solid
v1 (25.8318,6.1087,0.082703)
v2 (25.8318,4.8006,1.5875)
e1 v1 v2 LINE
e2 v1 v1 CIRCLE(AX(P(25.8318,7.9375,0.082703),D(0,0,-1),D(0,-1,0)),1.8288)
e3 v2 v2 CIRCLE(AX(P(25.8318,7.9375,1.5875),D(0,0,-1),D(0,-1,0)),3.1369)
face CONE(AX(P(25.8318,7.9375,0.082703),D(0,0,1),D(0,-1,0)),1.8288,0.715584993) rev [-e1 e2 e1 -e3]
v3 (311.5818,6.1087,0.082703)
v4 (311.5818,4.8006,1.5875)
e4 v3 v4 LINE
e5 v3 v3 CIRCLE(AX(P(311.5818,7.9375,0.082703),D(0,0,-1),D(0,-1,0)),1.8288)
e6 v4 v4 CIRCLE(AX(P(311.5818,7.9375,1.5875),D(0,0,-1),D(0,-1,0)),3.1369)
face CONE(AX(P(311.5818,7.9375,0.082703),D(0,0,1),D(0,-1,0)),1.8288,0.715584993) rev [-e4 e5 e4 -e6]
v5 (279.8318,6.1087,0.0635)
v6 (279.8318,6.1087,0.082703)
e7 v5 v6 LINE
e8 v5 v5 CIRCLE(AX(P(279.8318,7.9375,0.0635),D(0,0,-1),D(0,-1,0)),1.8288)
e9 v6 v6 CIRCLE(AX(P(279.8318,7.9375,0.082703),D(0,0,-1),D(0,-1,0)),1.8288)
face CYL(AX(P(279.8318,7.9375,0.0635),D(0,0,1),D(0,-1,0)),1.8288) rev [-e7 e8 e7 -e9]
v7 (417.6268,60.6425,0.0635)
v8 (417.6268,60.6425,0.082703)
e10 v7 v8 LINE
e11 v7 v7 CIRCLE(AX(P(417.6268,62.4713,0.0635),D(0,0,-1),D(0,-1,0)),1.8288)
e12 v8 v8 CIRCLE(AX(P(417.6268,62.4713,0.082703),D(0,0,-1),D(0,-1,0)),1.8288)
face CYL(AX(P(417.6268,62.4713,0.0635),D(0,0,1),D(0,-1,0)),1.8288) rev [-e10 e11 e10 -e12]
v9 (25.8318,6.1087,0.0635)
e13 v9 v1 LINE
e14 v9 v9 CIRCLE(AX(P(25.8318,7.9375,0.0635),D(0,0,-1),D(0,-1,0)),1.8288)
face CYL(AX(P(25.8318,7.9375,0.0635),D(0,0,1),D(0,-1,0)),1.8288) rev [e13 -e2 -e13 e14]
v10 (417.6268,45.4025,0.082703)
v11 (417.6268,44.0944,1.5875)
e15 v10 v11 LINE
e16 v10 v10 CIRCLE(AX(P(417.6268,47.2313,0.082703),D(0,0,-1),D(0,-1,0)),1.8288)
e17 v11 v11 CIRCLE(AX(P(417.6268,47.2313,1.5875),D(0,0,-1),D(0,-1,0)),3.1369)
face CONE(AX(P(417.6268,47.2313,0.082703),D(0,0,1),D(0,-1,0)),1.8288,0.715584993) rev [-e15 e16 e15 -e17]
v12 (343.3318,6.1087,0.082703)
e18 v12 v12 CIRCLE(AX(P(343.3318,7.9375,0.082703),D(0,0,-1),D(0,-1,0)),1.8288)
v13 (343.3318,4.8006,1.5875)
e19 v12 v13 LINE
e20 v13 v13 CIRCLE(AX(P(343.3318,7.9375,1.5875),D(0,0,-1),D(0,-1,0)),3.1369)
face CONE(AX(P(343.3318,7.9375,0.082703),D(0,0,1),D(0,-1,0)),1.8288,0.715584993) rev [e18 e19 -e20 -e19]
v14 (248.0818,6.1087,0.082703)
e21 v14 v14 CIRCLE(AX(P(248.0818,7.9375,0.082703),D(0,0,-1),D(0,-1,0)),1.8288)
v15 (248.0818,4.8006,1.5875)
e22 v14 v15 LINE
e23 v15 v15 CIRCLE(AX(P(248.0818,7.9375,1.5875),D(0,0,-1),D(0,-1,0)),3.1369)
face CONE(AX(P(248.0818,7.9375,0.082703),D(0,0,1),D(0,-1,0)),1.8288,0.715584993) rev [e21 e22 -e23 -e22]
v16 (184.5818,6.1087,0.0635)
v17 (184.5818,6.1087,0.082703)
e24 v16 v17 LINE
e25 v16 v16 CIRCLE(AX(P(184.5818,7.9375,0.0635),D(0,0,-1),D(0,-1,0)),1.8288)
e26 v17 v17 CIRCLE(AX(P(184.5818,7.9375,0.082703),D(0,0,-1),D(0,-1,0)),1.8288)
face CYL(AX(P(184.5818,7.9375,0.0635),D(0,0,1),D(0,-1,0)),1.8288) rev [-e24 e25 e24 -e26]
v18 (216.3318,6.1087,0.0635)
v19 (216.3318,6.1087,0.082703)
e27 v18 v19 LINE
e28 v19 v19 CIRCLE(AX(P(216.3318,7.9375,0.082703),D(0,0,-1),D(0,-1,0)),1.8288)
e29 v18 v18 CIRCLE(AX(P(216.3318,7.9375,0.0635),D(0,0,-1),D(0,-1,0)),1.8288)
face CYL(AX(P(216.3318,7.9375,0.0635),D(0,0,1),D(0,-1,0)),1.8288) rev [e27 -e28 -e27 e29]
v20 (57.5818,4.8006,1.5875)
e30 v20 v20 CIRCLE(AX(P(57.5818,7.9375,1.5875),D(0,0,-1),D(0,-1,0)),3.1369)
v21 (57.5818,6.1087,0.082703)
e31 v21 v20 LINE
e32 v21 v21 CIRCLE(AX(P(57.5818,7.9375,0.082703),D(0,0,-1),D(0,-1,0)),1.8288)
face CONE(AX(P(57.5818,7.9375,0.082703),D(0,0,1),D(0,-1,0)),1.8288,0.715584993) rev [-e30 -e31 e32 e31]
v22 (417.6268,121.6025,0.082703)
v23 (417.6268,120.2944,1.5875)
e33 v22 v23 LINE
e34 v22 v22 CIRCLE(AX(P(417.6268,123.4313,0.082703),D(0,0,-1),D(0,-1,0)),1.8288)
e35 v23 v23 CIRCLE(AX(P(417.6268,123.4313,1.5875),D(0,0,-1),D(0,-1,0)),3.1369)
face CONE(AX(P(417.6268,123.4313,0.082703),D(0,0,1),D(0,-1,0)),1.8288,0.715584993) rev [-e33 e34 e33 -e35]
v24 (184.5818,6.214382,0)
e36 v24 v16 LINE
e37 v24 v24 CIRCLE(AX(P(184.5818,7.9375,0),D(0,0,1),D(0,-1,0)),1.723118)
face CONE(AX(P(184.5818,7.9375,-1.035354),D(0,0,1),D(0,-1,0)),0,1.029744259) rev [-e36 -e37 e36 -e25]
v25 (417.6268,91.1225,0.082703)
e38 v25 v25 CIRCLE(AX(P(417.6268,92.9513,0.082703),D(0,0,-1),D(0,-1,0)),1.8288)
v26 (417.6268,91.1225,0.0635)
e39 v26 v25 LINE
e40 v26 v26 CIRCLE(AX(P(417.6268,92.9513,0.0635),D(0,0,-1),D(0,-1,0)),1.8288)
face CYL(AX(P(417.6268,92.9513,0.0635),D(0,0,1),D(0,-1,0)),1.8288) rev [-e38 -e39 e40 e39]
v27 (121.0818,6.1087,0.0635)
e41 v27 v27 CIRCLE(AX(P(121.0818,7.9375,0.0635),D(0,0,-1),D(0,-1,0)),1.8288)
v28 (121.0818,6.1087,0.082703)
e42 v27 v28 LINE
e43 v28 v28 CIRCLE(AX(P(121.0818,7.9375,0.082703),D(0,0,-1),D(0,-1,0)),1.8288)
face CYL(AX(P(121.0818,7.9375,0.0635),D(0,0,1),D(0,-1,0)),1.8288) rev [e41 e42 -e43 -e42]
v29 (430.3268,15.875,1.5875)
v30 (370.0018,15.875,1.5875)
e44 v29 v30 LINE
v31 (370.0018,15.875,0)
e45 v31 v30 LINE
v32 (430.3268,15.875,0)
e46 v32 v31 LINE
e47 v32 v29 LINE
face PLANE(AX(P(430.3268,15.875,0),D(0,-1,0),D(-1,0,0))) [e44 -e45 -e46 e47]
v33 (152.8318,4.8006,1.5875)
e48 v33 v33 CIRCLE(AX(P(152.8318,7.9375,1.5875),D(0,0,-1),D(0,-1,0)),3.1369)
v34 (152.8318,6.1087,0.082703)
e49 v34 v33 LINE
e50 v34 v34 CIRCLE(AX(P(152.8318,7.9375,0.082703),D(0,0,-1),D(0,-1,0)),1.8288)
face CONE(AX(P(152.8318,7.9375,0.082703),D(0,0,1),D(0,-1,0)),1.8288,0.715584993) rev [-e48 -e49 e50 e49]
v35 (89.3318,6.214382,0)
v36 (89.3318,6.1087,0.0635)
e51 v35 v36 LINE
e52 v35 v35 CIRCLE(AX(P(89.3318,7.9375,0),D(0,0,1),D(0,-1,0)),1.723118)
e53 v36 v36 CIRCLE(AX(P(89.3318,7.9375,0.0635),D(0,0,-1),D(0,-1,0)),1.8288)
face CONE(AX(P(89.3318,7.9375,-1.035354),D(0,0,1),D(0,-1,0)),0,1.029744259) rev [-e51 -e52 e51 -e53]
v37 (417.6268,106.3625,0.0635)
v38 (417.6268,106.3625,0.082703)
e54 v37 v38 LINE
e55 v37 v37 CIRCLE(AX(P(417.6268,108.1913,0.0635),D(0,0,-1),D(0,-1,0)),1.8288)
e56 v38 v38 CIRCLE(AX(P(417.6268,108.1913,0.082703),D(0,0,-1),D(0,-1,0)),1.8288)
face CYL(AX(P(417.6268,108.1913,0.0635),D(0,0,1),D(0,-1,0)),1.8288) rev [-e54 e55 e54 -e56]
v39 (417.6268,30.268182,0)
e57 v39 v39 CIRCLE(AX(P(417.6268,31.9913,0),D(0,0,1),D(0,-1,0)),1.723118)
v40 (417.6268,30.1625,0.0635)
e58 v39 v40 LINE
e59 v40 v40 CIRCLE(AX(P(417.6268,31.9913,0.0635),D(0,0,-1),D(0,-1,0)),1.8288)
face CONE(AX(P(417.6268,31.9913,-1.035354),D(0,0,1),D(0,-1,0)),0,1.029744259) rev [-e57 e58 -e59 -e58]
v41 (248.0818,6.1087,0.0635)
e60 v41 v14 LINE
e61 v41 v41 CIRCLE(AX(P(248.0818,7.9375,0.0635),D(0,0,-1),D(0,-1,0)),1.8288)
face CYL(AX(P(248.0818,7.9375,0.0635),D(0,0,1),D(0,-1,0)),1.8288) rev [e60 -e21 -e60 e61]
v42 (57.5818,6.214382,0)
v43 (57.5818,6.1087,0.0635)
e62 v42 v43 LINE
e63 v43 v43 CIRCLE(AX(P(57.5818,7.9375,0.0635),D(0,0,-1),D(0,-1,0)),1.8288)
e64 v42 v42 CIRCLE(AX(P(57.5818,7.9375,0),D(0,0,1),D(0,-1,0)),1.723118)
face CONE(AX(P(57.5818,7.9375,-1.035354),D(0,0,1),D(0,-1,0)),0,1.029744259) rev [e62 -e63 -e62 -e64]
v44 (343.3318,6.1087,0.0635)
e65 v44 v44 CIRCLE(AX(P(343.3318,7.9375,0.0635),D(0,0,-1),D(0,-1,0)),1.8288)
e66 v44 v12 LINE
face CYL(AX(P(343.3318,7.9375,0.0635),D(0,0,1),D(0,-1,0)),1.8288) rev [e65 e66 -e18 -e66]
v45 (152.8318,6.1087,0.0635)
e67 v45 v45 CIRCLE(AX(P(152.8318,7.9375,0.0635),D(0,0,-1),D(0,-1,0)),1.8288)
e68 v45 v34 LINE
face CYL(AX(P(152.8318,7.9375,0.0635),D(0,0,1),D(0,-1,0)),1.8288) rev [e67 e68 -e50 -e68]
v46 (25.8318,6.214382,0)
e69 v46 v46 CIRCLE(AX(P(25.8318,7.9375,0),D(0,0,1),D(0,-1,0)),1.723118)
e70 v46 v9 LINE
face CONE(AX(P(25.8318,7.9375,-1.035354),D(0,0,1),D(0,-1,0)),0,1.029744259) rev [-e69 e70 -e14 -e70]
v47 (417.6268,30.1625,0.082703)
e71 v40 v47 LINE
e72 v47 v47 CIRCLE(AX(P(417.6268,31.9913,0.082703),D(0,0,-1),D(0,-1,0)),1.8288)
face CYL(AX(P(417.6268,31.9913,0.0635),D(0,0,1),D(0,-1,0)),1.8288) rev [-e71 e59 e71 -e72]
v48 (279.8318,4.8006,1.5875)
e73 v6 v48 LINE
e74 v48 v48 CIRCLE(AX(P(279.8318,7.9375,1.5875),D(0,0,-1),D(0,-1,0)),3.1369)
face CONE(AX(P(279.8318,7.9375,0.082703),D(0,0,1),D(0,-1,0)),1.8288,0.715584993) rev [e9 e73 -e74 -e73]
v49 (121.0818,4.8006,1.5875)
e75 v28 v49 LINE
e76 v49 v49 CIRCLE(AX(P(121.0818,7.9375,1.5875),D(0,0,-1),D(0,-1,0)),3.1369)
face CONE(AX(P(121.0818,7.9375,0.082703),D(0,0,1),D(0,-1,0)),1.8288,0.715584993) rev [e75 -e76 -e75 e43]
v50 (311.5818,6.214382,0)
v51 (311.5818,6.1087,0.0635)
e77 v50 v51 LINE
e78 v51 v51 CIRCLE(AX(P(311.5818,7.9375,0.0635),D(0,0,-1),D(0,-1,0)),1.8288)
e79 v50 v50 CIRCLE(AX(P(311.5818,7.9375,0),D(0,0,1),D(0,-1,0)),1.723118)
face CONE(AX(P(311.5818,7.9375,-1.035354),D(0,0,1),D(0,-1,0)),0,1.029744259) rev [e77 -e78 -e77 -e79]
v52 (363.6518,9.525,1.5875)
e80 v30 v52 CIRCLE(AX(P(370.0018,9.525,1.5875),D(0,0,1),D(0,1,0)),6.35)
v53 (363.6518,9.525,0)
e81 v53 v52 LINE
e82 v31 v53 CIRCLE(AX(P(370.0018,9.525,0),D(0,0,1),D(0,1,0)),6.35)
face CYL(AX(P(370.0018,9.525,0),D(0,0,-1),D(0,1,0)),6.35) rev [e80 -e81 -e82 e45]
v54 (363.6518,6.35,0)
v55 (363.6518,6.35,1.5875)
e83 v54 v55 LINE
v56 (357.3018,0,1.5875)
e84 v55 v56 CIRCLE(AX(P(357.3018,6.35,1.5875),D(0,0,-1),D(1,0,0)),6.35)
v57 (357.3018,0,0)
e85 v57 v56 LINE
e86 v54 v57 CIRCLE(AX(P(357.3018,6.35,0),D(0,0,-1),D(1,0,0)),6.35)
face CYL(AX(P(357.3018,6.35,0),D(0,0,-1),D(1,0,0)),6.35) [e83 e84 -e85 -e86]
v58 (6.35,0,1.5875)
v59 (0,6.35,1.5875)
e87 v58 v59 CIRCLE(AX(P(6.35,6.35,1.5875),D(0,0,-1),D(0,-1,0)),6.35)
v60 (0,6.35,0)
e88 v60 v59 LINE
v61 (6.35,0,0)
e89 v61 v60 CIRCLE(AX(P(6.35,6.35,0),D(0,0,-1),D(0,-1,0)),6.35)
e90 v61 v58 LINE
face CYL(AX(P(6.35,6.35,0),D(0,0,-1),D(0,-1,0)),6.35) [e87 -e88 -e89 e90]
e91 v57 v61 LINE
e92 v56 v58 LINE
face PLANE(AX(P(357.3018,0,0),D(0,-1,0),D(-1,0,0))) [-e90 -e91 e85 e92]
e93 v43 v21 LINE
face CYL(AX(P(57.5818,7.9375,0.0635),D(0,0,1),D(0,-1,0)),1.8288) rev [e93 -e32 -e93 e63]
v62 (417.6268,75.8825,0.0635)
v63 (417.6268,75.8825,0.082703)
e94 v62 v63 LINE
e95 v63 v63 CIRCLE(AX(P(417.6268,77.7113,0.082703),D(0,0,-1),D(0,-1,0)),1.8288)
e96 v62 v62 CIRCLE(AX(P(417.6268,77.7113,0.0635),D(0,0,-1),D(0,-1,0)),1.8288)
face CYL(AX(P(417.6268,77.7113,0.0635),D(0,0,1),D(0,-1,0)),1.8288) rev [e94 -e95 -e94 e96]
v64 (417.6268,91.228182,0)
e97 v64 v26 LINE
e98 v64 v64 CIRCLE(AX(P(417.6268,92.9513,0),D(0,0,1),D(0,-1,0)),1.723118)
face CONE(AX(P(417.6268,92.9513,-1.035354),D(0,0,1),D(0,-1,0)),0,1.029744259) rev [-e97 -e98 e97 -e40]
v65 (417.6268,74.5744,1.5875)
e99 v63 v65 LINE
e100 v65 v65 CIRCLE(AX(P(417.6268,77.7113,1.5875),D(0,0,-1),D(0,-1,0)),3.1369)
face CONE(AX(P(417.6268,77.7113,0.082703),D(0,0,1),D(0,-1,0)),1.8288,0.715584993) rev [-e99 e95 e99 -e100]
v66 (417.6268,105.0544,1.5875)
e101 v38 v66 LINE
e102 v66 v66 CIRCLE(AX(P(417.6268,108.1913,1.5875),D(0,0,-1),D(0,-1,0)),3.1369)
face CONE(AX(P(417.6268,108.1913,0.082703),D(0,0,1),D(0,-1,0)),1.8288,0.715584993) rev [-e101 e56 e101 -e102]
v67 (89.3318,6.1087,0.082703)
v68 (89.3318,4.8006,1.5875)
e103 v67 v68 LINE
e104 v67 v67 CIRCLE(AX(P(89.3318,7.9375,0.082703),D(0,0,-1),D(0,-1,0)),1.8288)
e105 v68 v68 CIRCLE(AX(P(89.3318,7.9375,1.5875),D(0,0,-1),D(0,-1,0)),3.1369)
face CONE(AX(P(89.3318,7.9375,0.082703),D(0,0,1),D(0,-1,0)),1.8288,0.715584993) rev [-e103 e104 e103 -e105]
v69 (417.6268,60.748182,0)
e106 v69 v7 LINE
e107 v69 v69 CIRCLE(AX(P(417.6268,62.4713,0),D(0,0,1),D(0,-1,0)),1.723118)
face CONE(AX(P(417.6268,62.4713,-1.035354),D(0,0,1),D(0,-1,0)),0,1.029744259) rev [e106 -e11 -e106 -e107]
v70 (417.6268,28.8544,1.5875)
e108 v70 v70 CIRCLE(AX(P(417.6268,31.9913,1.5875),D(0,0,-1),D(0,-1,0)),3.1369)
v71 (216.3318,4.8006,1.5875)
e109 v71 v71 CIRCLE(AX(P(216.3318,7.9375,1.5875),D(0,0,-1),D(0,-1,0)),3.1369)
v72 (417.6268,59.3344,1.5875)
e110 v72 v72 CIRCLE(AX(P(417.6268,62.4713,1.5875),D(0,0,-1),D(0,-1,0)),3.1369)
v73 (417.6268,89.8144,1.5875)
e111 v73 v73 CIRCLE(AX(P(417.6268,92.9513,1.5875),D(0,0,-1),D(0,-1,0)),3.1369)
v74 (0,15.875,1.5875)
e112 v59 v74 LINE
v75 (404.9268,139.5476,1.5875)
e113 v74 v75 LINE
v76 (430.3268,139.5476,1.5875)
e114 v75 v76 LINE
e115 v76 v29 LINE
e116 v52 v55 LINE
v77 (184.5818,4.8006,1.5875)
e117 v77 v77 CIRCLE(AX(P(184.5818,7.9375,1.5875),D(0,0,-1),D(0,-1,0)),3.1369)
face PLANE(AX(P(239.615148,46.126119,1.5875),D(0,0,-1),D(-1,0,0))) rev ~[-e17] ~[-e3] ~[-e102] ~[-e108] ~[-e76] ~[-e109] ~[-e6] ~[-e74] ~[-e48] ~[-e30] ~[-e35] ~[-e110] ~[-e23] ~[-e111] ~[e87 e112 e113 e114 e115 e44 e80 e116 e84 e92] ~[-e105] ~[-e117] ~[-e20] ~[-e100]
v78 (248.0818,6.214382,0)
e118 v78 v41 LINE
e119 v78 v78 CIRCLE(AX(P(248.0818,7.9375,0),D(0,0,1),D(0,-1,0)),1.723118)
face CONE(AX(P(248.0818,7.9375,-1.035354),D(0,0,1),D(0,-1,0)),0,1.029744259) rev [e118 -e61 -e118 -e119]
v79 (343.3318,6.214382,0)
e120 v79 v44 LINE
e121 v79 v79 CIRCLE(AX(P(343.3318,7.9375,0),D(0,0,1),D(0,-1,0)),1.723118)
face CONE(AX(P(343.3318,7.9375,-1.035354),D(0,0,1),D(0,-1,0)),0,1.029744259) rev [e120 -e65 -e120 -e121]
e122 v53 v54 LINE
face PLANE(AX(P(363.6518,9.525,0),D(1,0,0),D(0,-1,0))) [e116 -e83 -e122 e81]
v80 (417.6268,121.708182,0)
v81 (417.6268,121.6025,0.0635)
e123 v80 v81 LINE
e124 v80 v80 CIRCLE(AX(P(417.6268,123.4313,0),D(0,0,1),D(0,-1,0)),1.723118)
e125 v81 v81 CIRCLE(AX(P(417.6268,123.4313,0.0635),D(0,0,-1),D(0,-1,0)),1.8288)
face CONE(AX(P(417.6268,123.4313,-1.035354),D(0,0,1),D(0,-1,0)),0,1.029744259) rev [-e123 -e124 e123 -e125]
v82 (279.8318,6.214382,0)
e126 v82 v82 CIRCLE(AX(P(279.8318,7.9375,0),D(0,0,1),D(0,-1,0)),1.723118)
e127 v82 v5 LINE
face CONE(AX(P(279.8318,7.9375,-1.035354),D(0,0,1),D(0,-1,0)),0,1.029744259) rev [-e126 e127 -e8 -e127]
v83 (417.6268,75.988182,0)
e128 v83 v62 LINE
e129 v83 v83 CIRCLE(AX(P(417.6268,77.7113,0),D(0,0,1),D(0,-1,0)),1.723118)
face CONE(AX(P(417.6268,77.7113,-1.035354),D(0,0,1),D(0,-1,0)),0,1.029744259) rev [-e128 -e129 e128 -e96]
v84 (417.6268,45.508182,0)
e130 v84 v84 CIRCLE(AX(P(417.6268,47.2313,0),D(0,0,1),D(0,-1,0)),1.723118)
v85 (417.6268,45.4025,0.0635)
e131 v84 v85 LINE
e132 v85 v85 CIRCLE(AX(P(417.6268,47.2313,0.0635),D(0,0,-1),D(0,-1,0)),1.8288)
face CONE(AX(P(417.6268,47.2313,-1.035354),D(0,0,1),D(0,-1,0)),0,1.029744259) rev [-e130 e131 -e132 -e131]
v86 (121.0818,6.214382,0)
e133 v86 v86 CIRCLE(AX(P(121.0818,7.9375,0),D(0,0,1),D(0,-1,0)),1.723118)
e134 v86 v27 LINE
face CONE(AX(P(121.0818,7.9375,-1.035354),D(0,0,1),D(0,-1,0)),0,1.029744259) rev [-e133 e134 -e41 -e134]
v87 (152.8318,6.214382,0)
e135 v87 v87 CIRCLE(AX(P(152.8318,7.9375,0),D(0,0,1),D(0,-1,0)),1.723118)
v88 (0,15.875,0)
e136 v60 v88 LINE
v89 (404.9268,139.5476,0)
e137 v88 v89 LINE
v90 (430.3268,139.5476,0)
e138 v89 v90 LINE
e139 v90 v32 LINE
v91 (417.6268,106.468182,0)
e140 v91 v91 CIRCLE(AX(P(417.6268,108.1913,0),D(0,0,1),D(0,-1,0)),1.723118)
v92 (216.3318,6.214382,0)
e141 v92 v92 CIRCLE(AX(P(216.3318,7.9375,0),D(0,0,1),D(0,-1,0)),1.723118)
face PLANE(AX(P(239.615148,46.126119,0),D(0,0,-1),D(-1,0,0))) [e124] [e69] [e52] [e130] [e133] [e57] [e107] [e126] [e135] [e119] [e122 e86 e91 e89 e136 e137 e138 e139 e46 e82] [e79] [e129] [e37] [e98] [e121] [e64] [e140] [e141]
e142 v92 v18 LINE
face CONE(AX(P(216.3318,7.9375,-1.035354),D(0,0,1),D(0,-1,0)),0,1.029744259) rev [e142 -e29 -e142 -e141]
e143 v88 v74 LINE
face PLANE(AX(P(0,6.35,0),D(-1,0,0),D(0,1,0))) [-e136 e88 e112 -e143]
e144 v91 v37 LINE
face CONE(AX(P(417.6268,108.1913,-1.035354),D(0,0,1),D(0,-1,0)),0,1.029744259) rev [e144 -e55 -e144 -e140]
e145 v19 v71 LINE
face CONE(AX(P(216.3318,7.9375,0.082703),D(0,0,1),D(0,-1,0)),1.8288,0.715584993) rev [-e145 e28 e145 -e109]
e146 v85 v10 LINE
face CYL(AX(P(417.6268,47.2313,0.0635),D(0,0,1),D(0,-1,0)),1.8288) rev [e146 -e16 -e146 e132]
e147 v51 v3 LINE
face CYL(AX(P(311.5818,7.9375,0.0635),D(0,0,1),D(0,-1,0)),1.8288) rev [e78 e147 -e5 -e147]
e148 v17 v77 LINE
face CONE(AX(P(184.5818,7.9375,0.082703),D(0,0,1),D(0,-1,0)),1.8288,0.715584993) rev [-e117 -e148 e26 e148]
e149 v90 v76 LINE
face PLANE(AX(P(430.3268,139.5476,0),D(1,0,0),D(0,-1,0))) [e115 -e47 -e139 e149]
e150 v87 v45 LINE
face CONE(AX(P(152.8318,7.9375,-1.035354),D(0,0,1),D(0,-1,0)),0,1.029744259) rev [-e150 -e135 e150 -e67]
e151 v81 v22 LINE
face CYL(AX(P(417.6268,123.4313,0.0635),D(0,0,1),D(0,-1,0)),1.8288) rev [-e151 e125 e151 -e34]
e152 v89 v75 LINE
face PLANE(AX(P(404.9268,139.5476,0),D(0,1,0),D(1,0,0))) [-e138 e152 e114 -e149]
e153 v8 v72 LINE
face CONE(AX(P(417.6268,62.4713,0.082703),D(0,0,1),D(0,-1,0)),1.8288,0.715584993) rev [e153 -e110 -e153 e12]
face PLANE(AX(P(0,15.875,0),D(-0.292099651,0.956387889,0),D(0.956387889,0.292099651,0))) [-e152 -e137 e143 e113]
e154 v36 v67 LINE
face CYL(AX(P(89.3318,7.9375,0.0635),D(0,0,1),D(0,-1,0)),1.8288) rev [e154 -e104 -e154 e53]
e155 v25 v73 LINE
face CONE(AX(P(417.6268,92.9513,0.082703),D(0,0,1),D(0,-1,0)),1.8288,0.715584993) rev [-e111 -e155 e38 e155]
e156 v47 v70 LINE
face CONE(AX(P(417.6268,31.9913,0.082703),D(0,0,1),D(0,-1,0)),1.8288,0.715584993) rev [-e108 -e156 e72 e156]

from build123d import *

# Parameters (mm, degrees)
BOSS_EXTRUDE1_DEPTH                           = 1.5875
CSK_FOR_6_FLAT_HEAD_SOCKET_CAP_SCREW1_A_COUNT = 2
CSK_FOR_6_FLAT_HEAD_SOCKET_CAP_SCREW1_A_PITCH = 31.75
CSK_FOR_6_FLAT_HEAD_SOCKET_CAP_SCRE_2_COUNT   = 2
CSK_FOR_6_FLAT_HEAD_SOCKET_CAP_SCRE_2_PITCH   = 63.5
CSK_FOR_6_FLAT_HEAD_SOCKET_CAP_SCRE_3_COUNT   = 2
CSK_FOR_6_FLAT_HEAD_SOCKET_CAP_SCRE_3_PITCH   = 95.25
CSK_FOR_6_FLAT_HEAD_SOCKET_CAP_SCRE_4_COUNT   = 2
CSK_FOR_6_FLAT_HEAD_SOCKET_CAP_SCRE_4_PITCH   = 127
CSK_FOR_6_FLAT_HEAD_SOCKET_CAP_SCRE_5_COUNT   = 2
CSK_FOR_6_FLAT_HEAD_SOCKET_CAP_SCRE_5_PITCH   = 158.75
CSK_FOR_6_FLAT_HEAD_SOCKET_CAP_SCRE_6_COUNT   = 2
CSK_FOR_6_FLAT_HEAD_SOCKET_CAP_SCRE_6_PITCH   = 190.5
CSK_FOR_6_FLAT_HEAD_SOCKET_CAP_SCRE_7_COUNT   = 2
CSK_FOR_6_FLAT_HEAD_SOCKET_CAP_SCRE_7_PITCH   = 222.25
CSK_FOR_6_FLAT_HEAD_SOCKET_CAP_SCRE_8_COUNT   = 2
CSK_FOR_6_FLAT_HEAD_SOCKET_CAP_SCRE_8_PITCH   = 254
CSK_FOR_6_FLAT_HEAD_SOCKET_CAP_SCRE_9_COUNT   = 2
CSK_FOR_6_FLAT_HEAD_SOCKET_CAP_SCRE_9_PITCH   = 285.75
CSK_FOR_6_FLAT_HEAD_SOCKET_CAP_SCRE_10_COUNT  = 2
CSK_FOR_6_FLAT_HEAD_SOCKET_CAP_SCRE_10_PITCH  = 317.5
CSK_FOR_6_FLAT_HEAD_SOCKET_CAP_SCREW2_A_COUNT = 2
CSK_FOR_6_FLAT_HEAD_SOCKET_CAP_SCREW2_A_PITCH = 15.24
CSK_FOR_6_FLAT_HEAD_SOCKET_CAP_SCRE_11_COUNT  = 2
CSK_FOR_6_FLAT_HEAD_SOCKET_CAP_SCRE_11_PITCH  = 30.48
CSK_FOR_6_FLAT_HEAD_SOCKET_CAP_SCRE_12_COUNT  = 2
CSK_FOR_6_FLAT_HEAD_SOCKET_CAP_SCRE_12_PITCH  = 45.72
CSK_FOR_6_FLAT_HEAD_SOCKET_CAP_SCRE_13_COUNT  = 2
CSK_FOR_6_FLAT_HEAD_SOCKET_CAP_SCRE_13_PITCH  = 60.96
CSK_FOR_6_FLAT_HEAD_SOCKET_CAP_SCRE_14_COUNT  = 2
CSK_FOR_6_FLAT_HEAD_SOCKET_CAP_SCRE_14_PITCH  = 76.2
CSK_FOR_6_FLAT_HEAD_SOCKET_CAP_SCRE_15_COUNT  = 2
CSK_FOR_6_FLAT_HEAD_SOCKET_CAP_SCRE_15_PITCH  = 91.44


with BuildPart() as part:
    # Sketch1 → Boss-Extrude1 (new body)
    with BuildSketch(Plane.XY):
        with BuildLine():
            Line((0, 15.875), (404.9268, 139.5476))
            Line((404.9268, 139.5476), (430.3268, 139.5476))
            Line((430.3268, 139.5476), (430.3268, 15.875))
            Line((430.3268, 15.875), (370.0018, 15.875))
            ThreePointArc((370.0018, 15.875), (365.511671939, 14.015128061), (363.6518, 9.525))
            Line((363.6518, 9.525), (363.6518, 6.35))
            ThreePointArc((363.6518, 6.35), (361.791928061, 1.859871939), (357.3018, 0))
            Line((357.3018, 0), (6.35, 0))
            ThreePointArc((6.35, 0), (1.859871939, 1.859871939), (0, 6.35))
            Line((0, 6.35), (0, 15.875))
        make_face()
    extrude(amount=BOSS_EXTRUDE1_DEPTH)

    # Sketch3 → CSK for #6 Flat Head Socket Cap Screw1 (revolve, cut)
    with BuildSketch(Plane(origin=(343.3318, 7.9375, 1.5875), x_dir=(0, -1, 0), z_dir=(1, 0, 0))):
        Polygon((0, 0), (0, 2.6228539), (1.8288, 1.524), (1.8288, 1.504796913), (3.1369, 0), align=None)
    csk_for_6_flat_head_socket_cap_screw1 = revolve(axis=Axis((343.3318, 7.9375, 7.9375), (0, 0, -1)), mode=Mode.SUBTRACT)

    # CSK for #6 Flat Head Socket Cap Screw1 a: CSK for #6 Flat Head Socket Cap Screw1 ×2
    with Locations(*[(-i * CSK_FOR_6_FLAT_HEAD_SOCKET_CAP_SCREW1_A_PITCH, 0, 0) for i in range(1, CSK_FOR_6_FLAT_HEAD_SOCKET_CAP_SCREW1_A_COUNT)]):
        add(csk_for_6_flat_head_socket_cap_screw1, mode=Mode.SUBTRACT)

    # CSK for _6 Flat Head Socket Cap Scre 2: CSK for #6 Flat Head Socket Cap Screw1 ×2
    with Locations(*[(-i * CSK_FOR_6_FLAT_HEAD_SOCKET_CAP_SCRE_2_PITCH, 0, 0) for i in range(1, CSK_FOR_6_FLAT_HEAD_SOCKET_CAP_SCRE_2_COUNT)]):
        add(csk_for_6_flat_head_socket_cap_screw1, mode=Mode.SUBTRACT)

    # CSK for _6 Flat Head Socket Cap Scre 3: CSK for #6 Flat Head Socket Cap Screw1 ×2
    with Locations(*[(-i * CSK_FOR_6_FLAT_HEAD_SOCKET_CAP_SCRE_3_PITCH, 0, 0) for i in range(1, CSK_FOR_6_FLAT_HEAD_SOCKET_CAP_SCRE_3_COUNT)]):
        add(csk_for_6_flat_head_socket_cap_screw1, mode=Mode.SUBTRACT)

    # CSK for _6 Flat Head Socket Cap Scre 4: CSK for #6 Flat Head Socket Cap Screw1 ×2
    with Locations(*[(-i * CSK_FOR_6_FLAT_HEAD_SOCKET_CAP_SCRE_4_PITCH, 0, 0) for i in range(1, CSK_FOR_6_FLAT_HEAD_SOCKET_CAP_SCRE_4_COUNT)]):
        add(csk_for_6_flat_head_socket_cap_screw1, mode=Mode.SUBTRACT)

    # CSK for _6 Flat Head Socket Cap Scre 5: CSK for #6 Flat Head Socket Cap Screw1 ×2
    with Locations(*[(-i * CSK_FOR_6_FLAT_HEAD_SOCKET_CAP_SCRE_5_PITCH, 0, 0) for i in range(1, CSK_FOR_6_FLAT_HEAD_SOCKET_CAP_SCRE_5_COUNT)]):
        add(csk_for_6_flat_head_socket_cap_screw1, mode=Mode.SUBTRACT)

    # CSK for _6 Flat Head Socket Cap Scre 6: CSK for #6 Flat Head Socket Cap Screw1 ×2
    with Locations(*[(-i * CSK_FOR_6_FLAT_HEAD_SOCKET_CAP_SCRE_6_PITCH, 0, 0) for i in range(1, CSK_FOR_6_FLAT_HEAD_SOCKET_CAP_SCRE_6_COUNT)]):
        add(csk_for_6_flat_head_socket_cap_screw1, mode=Mode.SUBTRACT)

    # CSK for _6 Flat Head Socket Cap Scre 7: CSK for #6 Flat Head Socket Cap Screw1 ×2
    with Locations(*[(-i * CSK_FOR_6_FLAT_HEAD_SOCKET_CAP_SCRE_7_PITCH, 0, 0) for i in range(1, CSK_FOR_6_FLAT_HEAD_SOCKET_CAP_SCRE_7_COUNT)]):
        add(csk_for_6_flat_head_socket_cap_screw1, mode=Mode.SUBTRACT)

    # CSK for _6 Flat Head Socket Cap Scre 8: CSK for #6 Flat Head Socket Cap Screw1 ×2
    with Locations(*[(-i * CSK_FOR_6_FLAT_HEAD_SOCKET_CAP_SCRE_8_PITCH, 0, 0) for i in range(1, CSK_FOR_6_FLAT_HEAD_SOCKET_CAP_SCRE_8_COUNT)]):
        add(csk_for_6_flat_head_socket_cap_screw1, mode=Mode.SUBTRACT)

    # CSK for _6 Flat Head Socket Cap Scre 9: CSK for #6 Flat Head Socket Cap Screw1 ×2
    with Locations(*[(-i * CSK_FOR_6_FLAT_HEAD_SOCKET_CAP_SCRE_9_PITCH, 0, 0) for i in range(1, CSK_FOR_6_FLAT_HEAD_SOCKET_CAP_SCRE_9_COUNT)]):
        add(csk_for_6_flat_head_socket_cap_screw1, mode=Mode.SUBTRACT)

    # CSK for _6 Flat Head Socket Cap Scre 10: CSK for #6 Flat Head Socket Cap Screw1 ×2
    with Locations(*[(-i * CSK_FOR_6_FLAT_HEAD_SOCKET_CAP_SCRE_10_PITCH, 0, 0) for i in range(1, CSK_FOR_6_FLAT_HEAD_SOCKET_CAP_SCRE_10_COUNT)]):
        add(csk_for_6_flat_head_socket_cap_screw1, mode=Mode.SUBTRACT)

    # Sketch5 → CSK for #6 Flat Head Socket Cap Screw2 (revolve, cut)
    with BuildSketch(Plane(origin=(417.6268, 123.4313, 1.5875), x_dir=(0, -1, 0), z_dir=(1, 0, 0))):
        Polygon((0, 0), (0, 2.6228539), (1.8288, 1.524), (1.8288, 1.504796913), (3.1369, 0), align=None)
    csk_for_6_flat_head_socket_cap_screw2 = revolve(axis=Axis((417.6268, 123.4313, 7.9375), (0, 0, -1)), mode=Mode.SUBTRACT)

    # CSK for #6 Flat Head Socket Cap Screw2 a: CSK for #6 Flat Head Socket Cap Screw2 ×2
    with Locations(*[(0, -i * CSK_FOR_6_FLAT_HEAD_SOCKET_CAP_SCREW2_A_PITCH, 0) for i in range(1, CSK_FOR_6_FLAT_HEAD_SOCKET_CAP_SCREW2_A_COUNT)]):
        add(csk_for_6_flat_head_socket_cap_screw2, mode=Mode.SUBTRACT)

    # CSK for _6 Flat Head Socket Cap Scre 11: CSK for #6 Flat Head Socket Cap Screw2 ×2
    with Locations(*[(0, -i * CSK_FOR_6_FLAT_HEAD_SOCKET_CAP_SCRE_11_PITCH, 0) for i in range(1, CSK_FOR_6_FLAT_HEAD_SOCKET_CAP_SCRE_11_COUNT)]):
        add(csk_for_6_flat_head_socket_cap_screw2, mode=Mode.SUBTRACT)

    # CSK for _6 Flat Head Socket Cap Scre 12: CSK for #6 Flat Head Socket Cap Screw2 ×2
    with Locations(*[(0, -i * CSK_FOR_6_FLAT_HEAD_SOCKET_CAP_SCRE_12_PITCH, 0) for i in range(1, CSK_FOR_6_FLAT_HEAD_SOCKET_CAP_SCRE_12_COUNT)]):
        add(csk_for_6_flat_head_socket_cap_screw2, mode=Mode.SUBTRACT)

    # CSK for _6 Flat Head Socket Cap Scre 13: CSK for #6 Flat Head Socket Cap Screw2 ×2
    with Locations(*[(0, -i * CSK_FOR_6_FLAT_HEAD_SOCKET_CAP_SCRE_13_PITCH, 0) for i in range(1, CSK_FOR_6_FLAT_HEAD_SOCKET_CAP_SCRE_13_COUNT)]):
        add(csk_for_6_flat_head_socket_cap_screw2, mode=Mode.SUBTRACT)

    # CSK for _6 Flat Head Socket Cap Scre 14: CSK for #6 Flat Head Socket Cap Screw2 ×2
    with Locations(*[(0, -i * CSK_FOR_6_FLAT_HEAD_SOCKET_CAP_SCRE_14_PITCH, 0) for i in range(1, CSK_FOR_6_FLAT_HEAD_SOCKET_CAP_SCRE_14_COUNT)]):
        add(csk_for_6_flat_head_socket_cap_screw2, mode=Mode.SUBTRACT)

    # CSK for _6 Flat Head Socket Cap Scre 15: CSK for #6 Flat Head Socket Cap Screw2 ×2
    with Locations(*[(0, -i * CSK_FOR_6_FLAT_HEAD_SOCKET_CAP_SCRE_15_PITCH, 0) for i in range(1, CSK_FOR_6_FLAT_HEAD_SOCKET_CAP_SCRE_15_COUNT)]):
        add(csk_for_6_flat_head_socket_cap_screw2, mode=Mode.SUBTRACT)


solid = part.part
